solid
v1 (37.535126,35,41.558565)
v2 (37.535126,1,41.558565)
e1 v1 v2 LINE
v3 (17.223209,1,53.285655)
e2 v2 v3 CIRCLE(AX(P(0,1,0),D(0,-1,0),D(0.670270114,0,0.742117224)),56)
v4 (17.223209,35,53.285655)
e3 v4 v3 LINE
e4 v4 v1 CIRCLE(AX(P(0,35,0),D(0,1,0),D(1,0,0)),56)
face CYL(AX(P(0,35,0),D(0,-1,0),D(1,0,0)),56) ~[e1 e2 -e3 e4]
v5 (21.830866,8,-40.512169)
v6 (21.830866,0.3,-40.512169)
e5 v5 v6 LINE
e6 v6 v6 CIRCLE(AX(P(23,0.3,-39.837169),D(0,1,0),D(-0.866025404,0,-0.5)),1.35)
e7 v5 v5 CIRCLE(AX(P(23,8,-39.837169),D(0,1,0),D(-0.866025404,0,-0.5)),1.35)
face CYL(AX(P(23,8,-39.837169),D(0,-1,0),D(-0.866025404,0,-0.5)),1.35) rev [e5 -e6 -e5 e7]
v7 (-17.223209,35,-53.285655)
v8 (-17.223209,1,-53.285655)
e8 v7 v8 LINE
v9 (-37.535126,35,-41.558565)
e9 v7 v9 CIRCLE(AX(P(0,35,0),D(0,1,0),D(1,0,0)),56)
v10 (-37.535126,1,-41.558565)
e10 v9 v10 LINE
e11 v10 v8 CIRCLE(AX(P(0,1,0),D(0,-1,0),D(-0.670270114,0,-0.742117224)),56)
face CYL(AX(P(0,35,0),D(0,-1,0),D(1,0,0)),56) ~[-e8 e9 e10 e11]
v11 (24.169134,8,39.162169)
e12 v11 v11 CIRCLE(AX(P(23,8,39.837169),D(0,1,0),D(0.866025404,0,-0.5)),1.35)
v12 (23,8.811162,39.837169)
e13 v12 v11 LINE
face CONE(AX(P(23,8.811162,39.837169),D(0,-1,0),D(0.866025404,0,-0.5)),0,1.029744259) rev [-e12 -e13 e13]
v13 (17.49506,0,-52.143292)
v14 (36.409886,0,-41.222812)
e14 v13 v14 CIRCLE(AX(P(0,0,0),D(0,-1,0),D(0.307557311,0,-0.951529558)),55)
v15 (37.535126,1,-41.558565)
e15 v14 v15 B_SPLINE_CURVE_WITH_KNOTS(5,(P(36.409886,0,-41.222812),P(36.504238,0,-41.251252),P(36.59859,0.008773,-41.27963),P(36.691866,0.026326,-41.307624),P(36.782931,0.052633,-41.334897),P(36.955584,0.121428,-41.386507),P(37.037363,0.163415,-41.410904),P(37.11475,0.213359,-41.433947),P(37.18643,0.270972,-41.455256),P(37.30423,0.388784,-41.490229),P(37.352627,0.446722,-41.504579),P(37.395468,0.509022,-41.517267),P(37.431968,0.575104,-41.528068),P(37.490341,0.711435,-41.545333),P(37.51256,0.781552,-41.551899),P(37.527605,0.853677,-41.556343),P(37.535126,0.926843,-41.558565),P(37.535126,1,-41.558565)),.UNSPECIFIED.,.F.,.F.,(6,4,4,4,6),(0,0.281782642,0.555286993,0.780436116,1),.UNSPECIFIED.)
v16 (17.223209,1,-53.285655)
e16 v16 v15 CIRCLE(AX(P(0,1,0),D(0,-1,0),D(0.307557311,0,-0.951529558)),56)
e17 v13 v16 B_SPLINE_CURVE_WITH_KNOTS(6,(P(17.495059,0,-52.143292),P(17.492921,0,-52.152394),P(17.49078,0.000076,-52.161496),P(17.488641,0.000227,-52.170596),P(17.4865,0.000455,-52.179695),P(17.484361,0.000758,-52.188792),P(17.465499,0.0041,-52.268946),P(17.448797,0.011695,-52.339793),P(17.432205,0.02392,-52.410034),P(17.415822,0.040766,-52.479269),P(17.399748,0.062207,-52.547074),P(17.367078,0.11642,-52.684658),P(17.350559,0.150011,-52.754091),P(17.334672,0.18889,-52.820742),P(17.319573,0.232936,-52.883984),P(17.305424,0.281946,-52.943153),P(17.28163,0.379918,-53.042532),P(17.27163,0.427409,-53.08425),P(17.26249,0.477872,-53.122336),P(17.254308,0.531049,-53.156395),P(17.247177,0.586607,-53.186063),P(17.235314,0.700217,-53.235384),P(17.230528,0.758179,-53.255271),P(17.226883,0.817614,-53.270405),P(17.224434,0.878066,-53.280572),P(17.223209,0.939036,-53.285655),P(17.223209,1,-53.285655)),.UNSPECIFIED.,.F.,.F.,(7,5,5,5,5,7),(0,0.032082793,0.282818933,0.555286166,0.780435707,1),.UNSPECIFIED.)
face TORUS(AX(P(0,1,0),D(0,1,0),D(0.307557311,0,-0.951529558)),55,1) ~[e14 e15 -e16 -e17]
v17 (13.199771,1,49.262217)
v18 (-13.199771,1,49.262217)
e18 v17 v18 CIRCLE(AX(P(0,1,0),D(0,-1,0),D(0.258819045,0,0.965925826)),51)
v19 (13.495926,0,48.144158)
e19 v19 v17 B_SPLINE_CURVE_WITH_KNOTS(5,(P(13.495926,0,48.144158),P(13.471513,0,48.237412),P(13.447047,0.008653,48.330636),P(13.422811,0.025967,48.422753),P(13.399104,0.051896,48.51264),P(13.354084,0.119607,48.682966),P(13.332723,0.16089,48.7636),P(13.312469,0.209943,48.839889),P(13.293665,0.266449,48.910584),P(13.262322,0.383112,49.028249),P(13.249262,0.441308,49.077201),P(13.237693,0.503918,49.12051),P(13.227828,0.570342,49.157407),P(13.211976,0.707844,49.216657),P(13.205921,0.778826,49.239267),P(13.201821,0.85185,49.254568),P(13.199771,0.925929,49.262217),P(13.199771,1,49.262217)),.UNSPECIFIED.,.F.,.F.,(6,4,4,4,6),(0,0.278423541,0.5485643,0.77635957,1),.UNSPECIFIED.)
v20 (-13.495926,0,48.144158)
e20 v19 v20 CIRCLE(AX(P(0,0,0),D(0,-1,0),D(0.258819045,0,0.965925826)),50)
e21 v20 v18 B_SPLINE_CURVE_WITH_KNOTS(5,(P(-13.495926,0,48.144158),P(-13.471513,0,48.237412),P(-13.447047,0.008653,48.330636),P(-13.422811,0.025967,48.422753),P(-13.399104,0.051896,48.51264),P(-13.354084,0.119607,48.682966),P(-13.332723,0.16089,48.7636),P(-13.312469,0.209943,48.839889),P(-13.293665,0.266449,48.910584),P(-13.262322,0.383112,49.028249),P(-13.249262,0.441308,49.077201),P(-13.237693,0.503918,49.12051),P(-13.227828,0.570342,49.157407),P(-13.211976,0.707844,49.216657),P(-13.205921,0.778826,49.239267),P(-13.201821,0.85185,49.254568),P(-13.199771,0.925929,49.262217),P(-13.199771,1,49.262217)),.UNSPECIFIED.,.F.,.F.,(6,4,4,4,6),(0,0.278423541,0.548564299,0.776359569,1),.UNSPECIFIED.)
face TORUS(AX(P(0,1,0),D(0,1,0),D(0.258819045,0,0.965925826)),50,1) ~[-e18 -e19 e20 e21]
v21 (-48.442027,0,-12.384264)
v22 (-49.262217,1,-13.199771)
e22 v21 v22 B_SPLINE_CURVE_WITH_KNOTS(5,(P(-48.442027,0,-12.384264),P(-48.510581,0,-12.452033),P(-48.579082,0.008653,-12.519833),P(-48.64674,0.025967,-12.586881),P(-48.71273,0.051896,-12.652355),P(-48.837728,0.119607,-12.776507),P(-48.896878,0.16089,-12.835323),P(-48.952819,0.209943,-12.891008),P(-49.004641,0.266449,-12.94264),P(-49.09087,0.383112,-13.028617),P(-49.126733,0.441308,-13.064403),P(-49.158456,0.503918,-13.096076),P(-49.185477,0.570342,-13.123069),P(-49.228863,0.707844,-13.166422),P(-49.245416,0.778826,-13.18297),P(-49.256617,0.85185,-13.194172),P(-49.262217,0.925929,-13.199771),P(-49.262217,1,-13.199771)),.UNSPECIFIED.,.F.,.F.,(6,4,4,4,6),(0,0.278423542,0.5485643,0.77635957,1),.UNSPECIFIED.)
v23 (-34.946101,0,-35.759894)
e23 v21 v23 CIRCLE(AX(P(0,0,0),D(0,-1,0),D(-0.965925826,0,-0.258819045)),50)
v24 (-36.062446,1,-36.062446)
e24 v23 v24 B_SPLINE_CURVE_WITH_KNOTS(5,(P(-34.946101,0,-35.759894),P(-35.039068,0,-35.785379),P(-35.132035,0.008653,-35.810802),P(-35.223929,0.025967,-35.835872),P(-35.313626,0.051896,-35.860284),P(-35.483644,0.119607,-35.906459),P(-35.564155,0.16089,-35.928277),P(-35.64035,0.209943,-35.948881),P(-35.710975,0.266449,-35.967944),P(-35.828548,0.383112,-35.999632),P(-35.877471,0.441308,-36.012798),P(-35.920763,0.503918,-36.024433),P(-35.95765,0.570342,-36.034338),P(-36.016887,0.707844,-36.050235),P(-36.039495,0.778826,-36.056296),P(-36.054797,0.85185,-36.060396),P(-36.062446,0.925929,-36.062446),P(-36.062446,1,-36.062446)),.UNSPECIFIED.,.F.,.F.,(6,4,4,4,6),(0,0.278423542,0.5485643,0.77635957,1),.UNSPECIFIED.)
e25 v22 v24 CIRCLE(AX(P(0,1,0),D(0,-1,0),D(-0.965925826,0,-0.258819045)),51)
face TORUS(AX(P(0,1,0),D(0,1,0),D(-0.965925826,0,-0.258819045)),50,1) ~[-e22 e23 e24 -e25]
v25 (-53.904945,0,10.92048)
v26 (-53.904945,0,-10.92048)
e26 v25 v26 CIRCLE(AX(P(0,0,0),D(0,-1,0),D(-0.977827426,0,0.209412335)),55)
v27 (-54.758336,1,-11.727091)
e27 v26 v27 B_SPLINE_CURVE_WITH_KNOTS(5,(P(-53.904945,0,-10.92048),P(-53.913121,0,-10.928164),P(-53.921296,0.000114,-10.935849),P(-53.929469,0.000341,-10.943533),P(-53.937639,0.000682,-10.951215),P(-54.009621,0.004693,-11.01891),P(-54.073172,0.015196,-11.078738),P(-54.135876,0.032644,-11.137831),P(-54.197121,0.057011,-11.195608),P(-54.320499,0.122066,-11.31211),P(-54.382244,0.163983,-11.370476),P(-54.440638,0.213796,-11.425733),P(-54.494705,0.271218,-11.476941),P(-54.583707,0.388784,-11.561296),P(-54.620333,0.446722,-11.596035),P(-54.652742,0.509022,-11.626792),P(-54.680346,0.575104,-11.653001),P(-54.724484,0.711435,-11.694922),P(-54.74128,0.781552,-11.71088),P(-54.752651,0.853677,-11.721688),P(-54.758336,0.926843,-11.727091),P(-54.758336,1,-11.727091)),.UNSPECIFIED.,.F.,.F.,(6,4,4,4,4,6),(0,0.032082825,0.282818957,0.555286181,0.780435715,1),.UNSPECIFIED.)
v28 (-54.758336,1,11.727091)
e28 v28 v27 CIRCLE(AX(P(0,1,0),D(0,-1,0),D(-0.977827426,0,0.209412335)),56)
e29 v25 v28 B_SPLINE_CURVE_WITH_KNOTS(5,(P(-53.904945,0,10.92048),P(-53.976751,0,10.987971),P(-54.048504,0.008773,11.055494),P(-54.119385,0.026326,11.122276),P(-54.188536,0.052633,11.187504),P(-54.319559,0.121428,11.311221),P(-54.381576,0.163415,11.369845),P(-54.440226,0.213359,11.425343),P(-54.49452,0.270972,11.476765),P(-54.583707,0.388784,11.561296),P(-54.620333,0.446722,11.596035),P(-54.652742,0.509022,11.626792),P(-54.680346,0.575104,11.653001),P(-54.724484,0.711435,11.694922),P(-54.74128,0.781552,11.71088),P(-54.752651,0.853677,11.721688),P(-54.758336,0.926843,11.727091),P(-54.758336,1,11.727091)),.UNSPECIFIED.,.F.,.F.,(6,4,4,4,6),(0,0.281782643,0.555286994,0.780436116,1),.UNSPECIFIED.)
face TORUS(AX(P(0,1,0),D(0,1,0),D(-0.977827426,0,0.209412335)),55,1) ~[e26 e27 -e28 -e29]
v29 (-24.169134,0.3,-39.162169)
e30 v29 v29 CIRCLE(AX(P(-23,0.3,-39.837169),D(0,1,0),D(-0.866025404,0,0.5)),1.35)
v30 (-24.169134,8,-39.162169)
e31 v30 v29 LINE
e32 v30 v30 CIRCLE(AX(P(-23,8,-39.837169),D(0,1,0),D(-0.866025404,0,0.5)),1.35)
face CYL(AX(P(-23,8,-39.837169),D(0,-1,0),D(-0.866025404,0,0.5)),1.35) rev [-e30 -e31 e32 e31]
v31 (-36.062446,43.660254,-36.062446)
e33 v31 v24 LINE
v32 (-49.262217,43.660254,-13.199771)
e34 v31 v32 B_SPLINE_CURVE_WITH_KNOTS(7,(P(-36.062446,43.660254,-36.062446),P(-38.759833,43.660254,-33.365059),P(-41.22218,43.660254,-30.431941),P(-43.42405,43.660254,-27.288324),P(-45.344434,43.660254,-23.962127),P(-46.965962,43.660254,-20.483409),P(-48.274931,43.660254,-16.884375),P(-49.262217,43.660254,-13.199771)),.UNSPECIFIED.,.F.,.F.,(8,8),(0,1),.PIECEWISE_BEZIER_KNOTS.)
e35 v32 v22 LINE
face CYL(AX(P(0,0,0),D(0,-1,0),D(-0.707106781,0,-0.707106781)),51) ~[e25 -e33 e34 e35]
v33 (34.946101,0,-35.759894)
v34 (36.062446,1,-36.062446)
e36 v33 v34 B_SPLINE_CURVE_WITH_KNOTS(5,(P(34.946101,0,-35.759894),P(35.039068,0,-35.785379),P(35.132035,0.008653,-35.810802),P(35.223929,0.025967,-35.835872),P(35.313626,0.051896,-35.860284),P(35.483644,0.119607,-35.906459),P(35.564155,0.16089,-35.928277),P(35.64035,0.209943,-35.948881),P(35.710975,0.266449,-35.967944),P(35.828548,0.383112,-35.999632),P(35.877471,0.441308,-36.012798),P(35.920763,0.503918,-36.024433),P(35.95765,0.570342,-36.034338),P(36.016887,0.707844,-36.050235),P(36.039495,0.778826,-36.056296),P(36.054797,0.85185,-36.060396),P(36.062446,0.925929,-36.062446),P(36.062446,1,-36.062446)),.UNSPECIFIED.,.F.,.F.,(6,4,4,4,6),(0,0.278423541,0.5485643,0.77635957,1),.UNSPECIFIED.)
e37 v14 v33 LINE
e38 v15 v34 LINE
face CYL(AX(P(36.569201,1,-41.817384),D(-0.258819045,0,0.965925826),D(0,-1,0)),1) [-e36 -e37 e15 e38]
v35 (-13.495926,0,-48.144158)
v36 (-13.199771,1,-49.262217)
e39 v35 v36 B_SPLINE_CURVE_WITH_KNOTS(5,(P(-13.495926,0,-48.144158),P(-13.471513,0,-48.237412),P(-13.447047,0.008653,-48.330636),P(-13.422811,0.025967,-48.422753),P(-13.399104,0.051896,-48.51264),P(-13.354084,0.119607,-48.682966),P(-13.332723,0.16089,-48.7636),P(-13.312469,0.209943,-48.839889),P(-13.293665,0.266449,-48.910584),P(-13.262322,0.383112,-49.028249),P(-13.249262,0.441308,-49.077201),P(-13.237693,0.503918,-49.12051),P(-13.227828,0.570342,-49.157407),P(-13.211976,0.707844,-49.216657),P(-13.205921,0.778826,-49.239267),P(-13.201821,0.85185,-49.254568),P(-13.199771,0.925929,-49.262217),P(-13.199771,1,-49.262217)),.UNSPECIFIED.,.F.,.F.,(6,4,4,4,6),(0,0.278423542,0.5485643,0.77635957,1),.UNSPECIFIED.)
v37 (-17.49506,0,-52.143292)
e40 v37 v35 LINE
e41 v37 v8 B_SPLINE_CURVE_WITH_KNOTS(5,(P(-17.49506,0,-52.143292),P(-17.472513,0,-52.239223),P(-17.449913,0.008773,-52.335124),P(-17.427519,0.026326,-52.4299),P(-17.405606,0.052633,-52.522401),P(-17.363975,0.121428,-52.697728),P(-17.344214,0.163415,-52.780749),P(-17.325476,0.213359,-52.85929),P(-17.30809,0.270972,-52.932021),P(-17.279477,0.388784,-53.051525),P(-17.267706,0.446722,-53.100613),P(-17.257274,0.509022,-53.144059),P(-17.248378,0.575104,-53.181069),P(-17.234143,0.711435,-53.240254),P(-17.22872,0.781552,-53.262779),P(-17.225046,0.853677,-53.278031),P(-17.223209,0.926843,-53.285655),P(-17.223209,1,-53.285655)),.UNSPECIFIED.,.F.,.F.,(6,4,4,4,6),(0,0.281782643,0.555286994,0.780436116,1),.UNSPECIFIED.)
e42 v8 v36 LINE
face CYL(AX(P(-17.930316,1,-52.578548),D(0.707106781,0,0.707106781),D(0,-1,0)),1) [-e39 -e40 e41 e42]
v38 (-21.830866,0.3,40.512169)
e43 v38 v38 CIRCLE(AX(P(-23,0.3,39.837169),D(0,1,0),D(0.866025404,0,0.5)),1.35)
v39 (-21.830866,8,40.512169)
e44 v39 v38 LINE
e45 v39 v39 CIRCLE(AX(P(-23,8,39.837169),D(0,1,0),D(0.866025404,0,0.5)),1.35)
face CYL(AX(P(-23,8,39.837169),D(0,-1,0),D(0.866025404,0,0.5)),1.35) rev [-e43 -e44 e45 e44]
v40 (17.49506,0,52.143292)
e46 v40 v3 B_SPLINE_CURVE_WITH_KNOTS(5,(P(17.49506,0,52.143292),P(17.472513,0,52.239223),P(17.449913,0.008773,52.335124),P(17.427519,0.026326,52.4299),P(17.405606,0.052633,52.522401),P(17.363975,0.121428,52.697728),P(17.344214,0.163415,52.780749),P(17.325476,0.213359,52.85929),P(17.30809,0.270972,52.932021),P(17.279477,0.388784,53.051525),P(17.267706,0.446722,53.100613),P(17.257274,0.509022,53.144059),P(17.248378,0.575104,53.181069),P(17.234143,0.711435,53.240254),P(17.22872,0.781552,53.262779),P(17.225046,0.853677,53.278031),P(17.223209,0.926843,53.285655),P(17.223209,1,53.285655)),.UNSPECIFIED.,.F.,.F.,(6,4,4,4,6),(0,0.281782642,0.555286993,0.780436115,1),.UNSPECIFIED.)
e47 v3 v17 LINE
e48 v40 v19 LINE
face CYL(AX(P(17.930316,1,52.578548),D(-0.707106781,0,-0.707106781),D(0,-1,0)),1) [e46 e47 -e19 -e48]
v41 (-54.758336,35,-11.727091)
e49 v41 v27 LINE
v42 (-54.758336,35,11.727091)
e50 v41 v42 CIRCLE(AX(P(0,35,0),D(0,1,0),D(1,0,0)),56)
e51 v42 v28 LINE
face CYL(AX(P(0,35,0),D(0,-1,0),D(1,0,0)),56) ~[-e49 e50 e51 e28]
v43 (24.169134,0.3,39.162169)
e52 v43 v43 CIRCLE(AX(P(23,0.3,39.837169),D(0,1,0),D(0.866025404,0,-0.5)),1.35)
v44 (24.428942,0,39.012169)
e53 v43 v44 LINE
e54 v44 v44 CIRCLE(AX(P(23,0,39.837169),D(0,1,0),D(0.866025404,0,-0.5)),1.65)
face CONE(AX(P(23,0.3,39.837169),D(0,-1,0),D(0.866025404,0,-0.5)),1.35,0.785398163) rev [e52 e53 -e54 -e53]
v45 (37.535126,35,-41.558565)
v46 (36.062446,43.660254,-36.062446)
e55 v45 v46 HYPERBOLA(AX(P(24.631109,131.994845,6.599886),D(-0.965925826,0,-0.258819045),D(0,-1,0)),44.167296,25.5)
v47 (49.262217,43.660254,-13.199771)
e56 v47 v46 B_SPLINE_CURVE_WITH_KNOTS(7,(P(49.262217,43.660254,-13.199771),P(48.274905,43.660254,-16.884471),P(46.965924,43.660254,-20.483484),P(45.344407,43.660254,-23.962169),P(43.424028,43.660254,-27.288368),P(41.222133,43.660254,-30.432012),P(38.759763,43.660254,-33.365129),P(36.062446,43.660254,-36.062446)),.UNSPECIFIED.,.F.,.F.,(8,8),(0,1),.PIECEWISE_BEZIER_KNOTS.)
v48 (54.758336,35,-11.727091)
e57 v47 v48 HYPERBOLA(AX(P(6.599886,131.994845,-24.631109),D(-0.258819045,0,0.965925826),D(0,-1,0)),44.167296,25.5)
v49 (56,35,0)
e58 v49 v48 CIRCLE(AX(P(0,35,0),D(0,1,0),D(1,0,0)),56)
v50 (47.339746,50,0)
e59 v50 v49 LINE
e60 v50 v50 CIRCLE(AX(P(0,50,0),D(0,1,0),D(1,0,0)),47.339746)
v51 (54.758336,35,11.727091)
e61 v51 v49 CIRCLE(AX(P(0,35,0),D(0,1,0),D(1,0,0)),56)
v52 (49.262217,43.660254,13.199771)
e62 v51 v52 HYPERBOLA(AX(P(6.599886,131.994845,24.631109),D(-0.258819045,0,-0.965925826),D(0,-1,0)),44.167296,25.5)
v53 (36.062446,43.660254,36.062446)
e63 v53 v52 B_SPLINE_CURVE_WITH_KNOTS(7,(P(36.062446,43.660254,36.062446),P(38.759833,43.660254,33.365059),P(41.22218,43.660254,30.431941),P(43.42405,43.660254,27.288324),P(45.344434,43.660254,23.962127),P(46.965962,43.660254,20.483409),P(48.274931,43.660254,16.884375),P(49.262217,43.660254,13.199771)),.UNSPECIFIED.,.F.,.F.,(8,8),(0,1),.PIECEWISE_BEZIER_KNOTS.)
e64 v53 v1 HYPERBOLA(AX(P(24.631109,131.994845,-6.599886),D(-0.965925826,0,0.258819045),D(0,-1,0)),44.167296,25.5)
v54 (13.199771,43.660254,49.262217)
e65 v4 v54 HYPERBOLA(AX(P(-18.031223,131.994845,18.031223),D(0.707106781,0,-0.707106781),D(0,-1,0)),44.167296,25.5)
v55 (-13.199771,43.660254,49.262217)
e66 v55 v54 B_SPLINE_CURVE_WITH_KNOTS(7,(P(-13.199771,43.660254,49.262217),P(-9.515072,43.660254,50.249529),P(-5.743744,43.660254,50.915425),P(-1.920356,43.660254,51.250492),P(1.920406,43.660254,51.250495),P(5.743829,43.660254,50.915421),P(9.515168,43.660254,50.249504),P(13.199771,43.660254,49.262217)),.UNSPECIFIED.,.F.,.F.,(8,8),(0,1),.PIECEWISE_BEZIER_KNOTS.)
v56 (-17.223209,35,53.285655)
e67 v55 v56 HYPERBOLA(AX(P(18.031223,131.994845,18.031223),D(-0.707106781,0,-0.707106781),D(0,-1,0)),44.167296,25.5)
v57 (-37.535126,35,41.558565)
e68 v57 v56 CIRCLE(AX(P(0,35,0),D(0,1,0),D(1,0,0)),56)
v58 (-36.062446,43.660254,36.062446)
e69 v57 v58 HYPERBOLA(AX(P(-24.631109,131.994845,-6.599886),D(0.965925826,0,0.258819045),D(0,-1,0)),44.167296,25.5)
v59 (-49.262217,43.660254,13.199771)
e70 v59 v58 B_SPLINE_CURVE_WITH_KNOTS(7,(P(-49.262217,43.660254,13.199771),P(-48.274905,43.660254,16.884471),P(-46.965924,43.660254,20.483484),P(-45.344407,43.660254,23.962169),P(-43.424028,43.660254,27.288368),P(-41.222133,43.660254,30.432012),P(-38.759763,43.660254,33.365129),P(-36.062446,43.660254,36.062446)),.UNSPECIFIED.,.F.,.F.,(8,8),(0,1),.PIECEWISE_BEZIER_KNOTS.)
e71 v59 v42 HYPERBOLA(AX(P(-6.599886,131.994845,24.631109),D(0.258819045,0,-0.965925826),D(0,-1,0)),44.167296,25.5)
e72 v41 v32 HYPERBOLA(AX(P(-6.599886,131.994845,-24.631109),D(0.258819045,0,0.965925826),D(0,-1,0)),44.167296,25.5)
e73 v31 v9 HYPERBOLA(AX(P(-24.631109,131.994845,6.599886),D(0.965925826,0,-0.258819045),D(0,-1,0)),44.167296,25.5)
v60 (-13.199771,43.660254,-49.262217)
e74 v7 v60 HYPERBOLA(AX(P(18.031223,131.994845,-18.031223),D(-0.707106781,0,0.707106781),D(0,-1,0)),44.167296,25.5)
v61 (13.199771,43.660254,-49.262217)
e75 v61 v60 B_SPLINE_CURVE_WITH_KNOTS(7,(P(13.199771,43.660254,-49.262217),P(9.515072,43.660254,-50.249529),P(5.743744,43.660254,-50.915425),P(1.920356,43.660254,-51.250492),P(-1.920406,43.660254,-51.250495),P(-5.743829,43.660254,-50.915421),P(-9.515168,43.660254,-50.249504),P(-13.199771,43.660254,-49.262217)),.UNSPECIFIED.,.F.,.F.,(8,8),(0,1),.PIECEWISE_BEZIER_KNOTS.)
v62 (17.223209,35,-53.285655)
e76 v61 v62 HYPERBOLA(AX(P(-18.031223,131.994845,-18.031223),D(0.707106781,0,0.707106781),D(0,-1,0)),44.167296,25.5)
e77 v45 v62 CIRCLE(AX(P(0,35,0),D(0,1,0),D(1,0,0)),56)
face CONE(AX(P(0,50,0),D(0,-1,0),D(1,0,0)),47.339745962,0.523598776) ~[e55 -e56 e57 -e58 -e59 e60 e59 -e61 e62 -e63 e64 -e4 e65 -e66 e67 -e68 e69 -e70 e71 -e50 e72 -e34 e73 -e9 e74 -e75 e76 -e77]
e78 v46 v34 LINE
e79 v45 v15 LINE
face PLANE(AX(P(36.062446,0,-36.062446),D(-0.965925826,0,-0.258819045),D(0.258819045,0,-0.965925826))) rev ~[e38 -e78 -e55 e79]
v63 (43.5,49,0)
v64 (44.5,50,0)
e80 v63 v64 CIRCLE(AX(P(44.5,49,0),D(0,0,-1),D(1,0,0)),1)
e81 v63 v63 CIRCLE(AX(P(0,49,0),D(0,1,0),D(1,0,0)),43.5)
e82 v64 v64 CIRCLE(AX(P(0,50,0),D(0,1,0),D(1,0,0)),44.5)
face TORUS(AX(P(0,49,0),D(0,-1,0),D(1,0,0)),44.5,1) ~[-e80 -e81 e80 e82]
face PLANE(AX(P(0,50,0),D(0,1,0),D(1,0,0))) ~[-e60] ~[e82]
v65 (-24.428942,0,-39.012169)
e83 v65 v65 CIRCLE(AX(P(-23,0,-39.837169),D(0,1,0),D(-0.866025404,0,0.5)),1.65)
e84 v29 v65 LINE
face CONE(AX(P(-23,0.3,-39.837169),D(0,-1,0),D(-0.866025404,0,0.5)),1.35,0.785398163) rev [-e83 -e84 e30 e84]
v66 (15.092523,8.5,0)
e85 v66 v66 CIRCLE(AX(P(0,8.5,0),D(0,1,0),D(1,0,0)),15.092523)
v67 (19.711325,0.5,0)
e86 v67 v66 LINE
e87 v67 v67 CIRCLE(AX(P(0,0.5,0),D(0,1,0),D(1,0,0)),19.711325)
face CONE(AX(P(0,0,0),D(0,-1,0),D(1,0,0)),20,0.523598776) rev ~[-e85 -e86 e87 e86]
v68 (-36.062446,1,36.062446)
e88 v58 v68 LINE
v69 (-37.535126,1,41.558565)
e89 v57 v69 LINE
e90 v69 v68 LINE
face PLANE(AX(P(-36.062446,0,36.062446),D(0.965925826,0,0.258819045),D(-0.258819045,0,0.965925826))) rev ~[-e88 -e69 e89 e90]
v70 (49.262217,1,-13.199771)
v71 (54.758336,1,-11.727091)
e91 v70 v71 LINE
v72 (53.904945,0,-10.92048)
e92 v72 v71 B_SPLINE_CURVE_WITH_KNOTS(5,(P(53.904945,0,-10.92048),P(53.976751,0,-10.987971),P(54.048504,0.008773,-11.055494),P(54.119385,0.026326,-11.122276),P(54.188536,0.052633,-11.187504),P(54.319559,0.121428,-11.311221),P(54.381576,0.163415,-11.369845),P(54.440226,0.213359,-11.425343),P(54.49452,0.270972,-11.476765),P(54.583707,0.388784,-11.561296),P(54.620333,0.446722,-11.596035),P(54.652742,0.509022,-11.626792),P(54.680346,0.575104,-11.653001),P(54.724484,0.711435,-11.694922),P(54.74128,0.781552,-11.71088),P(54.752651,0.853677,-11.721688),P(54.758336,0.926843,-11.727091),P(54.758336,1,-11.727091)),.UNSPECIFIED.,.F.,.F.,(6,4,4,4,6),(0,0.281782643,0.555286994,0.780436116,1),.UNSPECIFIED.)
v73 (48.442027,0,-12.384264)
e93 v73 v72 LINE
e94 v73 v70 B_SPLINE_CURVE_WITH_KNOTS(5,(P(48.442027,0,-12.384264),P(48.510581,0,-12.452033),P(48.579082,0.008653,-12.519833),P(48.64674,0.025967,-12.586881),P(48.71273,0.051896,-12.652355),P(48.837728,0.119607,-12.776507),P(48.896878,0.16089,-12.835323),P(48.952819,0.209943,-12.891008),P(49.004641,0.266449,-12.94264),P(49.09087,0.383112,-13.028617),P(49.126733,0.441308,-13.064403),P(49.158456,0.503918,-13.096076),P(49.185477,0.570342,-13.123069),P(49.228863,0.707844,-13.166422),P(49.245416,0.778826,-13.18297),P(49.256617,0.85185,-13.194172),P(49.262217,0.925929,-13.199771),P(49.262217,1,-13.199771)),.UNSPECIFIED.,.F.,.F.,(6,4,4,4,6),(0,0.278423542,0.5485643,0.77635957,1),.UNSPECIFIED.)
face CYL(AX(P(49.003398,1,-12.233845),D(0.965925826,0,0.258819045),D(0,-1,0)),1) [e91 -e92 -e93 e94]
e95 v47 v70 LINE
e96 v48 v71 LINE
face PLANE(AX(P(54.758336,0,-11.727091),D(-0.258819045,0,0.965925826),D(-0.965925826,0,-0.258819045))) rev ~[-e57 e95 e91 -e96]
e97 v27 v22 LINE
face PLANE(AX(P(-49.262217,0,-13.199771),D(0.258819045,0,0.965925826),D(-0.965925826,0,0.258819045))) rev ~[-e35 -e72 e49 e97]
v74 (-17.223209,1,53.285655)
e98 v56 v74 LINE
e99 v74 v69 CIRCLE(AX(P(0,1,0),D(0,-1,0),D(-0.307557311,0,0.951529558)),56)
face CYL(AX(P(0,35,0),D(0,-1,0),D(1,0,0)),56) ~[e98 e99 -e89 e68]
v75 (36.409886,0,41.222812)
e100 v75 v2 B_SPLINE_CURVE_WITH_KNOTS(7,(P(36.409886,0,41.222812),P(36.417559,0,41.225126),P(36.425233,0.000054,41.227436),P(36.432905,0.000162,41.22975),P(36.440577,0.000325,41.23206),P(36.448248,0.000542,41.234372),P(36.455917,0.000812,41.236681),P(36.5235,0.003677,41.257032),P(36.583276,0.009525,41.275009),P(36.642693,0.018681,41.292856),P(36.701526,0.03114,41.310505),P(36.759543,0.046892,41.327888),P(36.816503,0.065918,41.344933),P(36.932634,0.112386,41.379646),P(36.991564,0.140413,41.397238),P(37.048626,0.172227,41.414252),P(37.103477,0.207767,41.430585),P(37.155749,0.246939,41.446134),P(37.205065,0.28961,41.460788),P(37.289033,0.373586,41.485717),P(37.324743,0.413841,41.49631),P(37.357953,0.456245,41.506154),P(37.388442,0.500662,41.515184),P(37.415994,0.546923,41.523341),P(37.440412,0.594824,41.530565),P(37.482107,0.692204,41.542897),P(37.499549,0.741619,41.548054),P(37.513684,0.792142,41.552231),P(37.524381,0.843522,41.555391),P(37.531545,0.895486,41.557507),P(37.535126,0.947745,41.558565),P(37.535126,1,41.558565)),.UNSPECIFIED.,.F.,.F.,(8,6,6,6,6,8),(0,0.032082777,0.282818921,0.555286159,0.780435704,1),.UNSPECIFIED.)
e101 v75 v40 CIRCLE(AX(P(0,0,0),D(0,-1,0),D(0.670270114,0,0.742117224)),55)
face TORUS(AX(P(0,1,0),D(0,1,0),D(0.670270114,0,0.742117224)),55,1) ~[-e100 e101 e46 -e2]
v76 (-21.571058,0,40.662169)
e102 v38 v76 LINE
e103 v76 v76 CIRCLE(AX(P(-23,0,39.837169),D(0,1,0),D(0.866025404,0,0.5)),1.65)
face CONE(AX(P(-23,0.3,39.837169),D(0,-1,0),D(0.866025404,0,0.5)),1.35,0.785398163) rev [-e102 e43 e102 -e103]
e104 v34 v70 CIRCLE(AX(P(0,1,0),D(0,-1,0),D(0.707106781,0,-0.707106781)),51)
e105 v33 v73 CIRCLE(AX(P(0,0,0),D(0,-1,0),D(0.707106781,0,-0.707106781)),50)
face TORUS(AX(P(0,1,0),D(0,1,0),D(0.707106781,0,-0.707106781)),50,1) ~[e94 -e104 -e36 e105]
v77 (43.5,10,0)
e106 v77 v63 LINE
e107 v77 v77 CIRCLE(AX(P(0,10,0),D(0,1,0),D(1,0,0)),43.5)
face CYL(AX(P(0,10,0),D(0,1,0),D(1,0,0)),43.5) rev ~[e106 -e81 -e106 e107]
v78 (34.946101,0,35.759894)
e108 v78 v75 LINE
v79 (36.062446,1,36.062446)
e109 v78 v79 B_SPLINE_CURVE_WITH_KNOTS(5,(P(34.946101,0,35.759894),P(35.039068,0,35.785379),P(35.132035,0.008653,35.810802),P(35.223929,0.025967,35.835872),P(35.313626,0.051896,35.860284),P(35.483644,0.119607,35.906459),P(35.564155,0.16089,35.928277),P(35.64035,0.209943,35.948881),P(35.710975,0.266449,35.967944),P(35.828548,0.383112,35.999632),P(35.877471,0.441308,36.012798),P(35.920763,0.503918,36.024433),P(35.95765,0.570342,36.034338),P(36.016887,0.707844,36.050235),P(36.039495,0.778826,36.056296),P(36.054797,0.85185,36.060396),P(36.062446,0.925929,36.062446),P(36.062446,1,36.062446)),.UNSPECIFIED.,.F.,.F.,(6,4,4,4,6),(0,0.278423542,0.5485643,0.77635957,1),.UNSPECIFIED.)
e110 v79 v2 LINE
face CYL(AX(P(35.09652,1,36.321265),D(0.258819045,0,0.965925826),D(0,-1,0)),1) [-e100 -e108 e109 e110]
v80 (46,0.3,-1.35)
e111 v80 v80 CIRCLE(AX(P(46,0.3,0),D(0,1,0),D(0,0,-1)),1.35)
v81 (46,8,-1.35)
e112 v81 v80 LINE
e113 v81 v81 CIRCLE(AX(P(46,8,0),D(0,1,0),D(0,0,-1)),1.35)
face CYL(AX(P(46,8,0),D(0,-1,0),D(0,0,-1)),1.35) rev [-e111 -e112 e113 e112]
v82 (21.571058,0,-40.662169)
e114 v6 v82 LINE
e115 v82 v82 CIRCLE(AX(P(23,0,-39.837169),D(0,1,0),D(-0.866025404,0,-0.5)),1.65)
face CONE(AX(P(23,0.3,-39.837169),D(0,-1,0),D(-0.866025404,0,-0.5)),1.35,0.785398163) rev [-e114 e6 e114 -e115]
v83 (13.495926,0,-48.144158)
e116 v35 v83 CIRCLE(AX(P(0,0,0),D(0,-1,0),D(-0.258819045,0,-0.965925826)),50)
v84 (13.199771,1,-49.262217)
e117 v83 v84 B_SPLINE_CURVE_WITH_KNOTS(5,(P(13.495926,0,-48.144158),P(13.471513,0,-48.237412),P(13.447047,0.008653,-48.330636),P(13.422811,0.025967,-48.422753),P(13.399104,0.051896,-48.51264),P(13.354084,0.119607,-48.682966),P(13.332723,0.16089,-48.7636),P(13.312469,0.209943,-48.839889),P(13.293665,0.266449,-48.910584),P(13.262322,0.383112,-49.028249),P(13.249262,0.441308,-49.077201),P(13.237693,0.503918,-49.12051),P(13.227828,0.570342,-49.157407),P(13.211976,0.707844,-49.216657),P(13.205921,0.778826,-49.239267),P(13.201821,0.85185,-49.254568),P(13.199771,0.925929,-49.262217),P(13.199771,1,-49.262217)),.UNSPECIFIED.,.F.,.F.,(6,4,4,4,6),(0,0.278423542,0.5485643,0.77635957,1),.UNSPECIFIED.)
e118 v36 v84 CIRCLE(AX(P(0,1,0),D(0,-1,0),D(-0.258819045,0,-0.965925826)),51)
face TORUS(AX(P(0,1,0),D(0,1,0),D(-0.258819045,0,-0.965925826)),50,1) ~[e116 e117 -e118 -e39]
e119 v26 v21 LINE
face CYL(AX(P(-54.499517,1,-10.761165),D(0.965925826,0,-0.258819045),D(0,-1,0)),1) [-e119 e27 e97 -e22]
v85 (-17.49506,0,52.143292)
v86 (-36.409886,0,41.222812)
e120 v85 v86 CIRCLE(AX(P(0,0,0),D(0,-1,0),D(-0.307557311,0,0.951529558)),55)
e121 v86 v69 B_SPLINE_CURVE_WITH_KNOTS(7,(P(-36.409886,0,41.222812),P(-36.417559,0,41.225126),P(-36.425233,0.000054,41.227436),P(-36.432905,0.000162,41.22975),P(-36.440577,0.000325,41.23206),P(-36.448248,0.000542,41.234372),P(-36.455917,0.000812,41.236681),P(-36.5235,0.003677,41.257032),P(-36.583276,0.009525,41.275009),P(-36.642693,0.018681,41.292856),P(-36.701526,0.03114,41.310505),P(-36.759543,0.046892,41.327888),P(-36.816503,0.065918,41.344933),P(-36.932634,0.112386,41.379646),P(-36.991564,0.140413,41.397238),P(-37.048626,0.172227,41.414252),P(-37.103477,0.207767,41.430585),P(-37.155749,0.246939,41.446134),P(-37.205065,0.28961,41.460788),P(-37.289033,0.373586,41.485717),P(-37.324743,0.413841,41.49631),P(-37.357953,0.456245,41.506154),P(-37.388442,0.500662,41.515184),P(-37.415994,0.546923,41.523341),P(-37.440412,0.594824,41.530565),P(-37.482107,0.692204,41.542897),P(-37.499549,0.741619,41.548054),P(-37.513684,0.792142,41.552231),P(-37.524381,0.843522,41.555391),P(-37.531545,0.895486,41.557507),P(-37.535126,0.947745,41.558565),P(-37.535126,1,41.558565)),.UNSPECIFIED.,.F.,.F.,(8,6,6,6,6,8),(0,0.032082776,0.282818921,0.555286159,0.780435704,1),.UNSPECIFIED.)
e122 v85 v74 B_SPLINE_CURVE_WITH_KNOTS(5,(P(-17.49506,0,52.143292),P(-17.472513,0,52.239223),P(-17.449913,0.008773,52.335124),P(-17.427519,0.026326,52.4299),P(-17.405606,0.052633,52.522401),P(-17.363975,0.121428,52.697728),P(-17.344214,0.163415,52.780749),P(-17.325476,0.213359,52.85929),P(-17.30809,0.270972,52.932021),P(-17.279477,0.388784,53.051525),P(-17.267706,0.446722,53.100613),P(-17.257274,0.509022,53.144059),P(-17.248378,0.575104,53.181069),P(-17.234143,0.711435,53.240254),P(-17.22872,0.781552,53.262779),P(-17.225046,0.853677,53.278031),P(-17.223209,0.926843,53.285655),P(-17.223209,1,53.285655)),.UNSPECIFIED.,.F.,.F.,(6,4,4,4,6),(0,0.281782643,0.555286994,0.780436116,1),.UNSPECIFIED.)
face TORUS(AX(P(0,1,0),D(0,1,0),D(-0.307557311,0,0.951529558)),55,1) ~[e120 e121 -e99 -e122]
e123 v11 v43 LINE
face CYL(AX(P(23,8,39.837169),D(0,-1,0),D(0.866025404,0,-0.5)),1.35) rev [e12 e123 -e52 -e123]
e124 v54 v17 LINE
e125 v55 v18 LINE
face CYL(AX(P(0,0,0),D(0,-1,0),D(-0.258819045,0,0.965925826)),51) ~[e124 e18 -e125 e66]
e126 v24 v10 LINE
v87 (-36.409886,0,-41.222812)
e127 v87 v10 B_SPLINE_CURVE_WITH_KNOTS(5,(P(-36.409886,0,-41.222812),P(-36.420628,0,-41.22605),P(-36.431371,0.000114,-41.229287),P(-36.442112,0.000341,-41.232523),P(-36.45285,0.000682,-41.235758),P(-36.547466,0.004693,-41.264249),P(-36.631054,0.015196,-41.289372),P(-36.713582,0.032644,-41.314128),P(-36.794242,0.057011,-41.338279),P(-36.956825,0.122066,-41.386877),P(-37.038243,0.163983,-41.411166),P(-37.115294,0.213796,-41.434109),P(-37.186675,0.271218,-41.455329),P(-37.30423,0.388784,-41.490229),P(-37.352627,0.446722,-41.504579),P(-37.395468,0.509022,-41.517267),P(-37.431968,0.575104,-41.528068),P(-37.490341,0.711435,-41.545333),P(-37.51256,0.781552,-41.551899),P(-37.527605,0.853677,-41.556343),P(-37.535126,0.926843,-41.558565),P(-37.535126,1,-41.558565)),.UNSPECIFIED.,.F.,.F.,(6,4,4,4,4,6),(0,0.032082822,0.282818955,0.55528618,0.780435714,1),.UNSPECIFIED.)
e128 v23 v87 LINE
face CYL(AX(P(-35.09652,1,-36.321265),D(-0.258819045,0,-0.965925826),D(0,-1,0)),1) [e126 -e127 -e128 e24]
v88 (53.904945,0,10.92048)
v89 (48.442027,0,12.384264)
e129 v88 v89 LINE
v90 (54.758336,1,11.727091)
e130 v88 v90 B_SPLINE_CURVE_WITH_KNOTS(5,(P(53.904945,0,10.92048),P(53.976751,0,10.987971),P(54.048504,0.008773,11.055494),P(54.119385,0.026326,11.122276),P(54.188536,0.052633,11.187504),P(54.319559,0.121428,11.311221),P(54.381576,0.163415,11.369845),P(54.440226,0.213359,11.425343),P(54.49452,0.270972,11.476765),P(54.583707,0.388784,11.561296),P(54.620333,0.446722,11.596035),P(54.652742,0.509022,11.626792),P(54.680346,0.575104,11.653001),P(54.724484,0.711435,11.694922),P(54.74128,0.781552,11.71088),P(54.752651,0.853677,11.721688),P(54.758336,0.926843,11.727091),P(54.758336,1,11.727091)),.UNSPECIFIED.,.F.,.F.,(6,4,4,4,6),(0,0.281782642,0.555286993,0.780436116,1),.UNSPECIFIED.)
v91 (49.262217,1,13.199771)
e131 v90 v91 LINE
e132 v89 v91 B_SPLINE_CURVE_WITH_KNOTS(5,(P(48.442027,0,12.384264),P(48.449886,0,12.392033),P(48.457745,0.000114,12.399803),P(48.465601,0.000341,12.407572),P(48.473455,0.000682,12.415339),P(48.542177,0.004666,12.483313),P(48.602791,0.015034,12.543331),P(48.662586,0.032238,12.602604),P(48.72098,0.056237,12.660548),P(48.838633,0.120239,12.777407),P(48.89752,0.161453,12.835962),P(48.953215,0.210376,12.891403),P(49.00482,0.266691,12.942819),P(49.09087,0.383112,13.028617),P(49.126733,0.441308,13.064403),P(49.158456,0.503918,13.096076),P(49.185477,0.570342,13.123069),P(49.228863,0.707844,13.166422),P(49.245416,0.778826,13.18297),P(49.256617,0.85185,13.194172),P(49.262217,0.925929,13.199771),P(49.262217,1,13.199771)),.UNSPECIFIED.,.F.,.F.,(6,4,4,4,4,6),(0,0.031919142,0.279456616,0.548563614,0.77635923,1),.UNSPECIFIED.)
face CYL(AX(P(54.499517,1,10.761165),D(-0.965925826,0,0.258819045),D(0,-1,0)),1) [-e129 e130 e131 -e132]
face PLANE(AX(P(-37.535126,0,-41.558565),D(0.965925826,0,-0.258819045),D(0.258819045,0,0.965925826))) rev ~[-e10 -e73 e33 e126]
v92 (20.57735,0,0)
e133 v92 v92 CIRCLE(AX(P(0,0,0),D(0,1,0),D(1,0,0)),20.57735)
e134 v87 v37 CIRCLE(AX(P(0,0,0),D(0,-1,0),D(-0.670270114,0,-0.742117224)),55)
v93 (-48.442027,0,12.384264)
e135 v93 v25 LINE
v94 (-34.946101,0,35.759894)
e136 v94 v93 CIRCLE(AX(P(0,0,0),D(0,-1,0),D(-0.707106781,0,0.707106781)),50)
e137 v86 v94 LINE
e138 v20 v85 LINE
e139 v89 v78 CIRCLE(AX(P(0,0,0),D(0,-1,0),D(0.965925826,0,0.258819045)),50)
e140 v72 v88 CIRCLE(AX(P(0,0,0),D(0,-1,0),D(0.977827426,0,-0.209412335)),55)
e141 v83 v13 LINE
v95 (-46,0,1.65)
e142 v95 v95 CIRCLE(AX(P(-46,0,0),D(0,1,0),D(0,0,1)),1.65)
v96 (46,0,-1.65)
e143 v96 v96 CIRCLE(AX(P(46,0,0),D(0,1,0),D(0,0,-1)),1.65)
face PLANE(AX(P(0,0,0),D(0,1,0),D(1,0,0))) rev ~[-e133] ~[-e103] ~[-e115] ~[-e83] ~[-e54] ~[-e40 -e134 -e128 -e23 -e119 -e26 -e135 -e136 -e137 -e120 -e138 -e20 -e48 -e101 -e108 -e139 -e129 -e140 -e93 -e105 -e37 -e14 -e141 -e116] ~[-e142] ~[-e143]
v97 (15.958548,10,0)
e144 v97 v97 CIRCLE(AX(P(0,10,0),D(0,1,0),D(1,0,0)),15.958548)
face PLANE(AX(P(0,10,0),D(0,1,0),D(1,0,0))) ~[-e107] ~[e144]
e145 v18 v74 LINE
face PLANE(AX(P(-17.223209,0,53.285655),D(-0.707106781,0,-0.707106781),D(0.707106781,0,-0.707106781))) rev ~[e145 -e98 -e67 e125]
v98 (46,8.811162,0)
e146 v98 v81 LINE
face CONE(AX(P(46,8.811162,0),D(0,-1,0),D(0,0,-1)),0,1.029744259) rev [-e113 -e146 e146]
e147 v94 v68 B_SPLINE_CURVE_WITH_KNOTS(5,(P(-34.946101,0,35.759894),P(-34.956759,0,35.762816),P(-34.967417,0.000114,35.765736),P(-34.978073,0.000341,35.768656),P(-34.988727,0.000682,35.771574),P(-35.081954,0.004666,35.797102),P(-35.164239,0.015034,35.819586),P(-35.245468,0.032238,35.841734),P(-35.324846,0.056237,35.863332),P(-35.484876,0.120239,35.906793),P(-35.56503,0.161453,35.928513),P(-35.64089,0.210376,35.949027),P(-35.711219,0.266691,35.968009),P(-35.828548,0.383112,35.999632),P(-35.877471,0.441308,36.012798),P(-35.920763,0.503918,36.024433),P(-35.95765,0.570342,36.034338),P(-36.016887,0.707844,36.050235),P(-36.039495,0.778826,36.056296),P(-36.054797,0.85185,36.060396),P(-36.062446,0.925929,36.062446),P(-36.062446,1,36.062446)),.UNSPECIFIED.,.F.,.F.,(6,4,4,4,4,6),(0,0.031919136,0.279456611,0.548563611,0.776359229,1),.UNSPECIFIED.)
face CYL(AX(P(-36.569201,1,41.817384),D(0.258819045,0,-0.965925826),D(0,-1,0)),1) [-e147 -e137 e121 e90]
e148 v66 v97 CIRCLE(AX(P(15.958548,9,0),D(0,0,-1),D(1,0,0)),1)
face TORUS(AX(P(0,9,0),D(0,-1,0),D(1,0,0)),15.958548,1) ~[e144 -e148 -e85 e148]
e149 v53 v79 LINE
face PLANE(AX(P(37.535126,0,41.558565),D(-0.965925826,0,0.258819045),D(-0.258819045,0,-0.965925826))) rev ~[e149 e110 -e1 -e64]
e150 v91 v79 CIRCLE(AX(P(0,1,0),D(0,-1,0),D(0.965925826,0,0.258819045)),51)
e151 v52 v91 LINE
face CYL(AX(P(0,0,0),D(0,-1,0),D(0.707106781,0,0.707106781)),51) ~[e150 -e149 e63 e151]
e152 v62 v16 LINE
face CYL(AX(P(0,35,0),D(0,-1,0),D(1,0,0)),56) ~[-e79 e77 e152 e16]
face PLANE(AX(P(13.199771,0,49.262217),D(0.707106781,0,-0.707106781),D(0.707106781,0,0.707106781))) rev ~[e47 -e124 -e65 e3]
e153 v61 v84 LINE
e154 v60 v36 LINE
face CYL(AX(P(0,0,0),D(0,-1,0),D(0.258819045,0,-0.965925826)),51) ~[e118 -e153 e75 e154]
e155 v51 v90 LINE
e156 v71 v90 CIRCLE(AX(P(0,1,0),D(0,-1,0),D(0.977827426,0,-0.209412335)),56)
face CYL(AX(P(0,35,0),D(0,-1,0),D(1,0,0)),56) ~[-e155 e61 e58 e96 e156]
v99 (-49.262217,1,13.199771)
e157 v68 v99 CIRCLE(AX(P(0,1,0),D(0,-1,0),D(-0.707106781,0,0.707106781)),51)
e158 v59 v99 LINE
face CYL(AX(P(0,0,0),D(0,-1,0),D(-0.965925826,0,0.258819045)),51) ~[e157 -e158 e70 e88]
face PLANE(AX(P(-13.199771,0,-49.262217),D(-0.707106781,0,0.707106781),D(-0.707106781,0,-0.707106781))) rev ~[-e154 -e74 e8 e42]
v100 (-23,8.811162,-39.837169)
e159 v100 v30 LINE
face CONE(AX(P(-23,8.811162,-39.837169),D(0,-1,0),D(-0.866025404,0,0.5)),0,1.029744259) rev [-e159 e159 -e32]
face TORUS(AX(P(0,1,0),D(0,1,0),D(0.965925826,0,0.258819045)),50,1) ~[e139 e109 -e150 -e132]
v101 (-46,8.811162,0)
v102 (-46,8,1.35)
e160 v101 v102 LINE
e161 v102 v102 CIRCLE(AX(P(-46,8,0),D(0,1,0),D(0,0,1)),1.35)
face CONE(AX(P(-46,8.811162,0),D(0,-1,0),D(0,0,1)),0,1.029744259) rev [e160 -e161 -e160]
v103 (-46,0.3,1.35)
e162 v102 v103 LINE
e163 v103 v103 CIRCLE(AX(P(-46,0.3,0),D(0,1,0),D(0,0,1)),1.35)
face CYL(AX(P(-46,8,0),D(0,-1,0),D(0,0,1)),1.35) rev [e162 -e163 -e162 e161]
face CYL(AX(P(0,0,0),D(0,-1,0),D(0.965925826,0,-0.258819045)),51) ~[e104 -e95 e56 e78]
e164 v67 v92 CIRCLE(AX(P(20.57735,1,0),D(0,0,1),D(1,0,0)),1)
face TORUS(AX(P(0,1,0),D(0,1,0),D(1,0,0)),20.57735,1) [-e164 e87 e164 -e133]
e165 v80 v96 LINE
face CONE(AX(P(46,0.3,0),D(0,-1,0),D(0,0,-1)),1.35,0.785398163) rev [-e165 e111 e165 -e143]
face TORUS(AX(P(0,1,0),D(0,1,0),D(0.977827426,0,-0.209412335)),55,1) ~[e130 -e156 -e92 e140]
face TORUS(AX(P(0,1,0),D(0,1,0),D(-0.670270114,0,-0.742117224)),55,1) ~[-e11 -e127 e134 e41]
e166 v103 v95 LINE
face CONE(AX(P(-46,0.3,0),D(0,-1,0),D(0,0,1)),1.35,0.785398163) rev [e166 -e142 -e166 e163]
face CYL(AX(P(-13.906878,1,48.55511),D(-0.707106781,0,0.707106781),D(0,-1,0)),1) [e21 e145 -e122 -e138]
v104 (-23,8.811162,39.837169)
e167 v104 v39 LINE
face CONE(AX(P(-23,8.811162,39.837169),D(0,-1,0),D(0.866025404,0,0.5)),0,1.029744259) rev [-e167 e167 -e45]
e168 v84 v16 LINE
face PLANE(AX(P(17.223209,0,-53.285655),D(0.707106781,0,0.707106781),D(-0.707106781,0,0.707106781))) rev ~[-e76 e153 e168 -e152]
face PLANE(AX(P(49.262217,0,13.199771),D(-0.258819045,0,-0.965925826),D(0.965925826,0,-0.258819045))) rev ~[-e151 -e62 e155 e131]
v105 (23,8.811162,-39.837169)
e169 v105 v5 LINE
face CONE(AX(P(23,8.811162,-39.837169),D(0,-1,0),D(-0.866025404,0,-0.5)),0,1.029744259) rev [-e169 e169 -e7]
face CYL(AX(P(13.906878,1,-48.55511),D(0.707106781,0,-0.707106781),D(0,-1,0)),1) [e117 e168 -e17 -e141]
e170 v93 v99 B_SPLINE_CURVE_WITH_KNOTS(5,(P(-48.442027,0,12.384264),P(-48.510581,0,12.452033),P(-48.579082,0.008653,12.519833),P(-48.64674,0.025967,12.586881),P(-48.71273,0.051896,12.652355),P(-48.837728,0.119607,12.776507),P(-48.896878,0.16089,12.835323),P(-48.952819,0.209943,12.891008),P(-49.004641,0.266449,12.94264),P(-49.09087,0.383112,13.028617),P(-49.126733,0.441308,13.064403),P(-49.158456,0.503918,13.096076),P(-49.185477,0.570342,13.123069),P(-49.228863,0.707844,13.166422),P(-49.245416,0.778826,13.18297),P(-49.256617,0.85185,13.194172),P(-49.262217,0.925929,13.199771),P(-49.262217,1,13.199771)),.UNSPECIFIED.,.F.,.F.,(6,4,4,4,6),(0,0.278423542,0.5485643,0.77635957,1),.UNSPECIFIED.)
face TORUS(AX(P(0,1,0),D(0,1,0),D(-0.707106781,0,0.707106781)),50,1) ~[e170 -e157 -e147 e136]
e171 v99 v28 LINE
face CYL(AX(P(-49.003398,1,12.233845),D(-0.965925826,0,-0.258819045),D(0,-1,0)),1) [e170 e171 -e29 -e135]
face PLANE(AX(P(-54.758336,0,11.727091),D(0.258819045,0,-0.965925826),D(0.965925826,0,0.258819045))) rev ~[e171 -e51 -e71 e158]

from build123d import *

# Parameters (mm, degrees)
SIDE_CUTOUT_DEPTH         = 94.658955792
SIDE_CUTOUT_PATTERN_COUNT = 6
OVERALL_FILLETS_R         = 1
SCREW_HOLE_PATTERN_COUNT  = 6


with BuildPart() as part:
    # Sketch1 → body (revolve)
    with BuildSketch(Plane.XY):
        Polygon((20, 0), (14.226497308, 10), (43.5, 10), (43.5, 50), (47.339745962, 50), (56, 35), (56, 0), align=None)
    revolve(axis=Axis((0, 0, 0), (0, 1, 0)))

    # Sketch5 → side_cutout (cut, symmetric)
    with BuildSketch(Plane.XZ):
        with BuildLine():
            Line((110.083964015, 312.314512522), (37.535126405, 41.55856453))
            Line((37.535126405, 41.55856453), (36.062445841, 36.062445841))
            ThreePointArc((36.062445841, 36.062445841), (44.167295593, 25.5), (49.262217141, 13.1997713))
            Line((49.262217141, 13.1997713), (54.75833583, 11.727090736))
            Line((54.75833583, 11.727090736), (325.514283822, -60.821746875))
            Line((325.514283822, -60.821746875), (811.02056765, 219.485436786))
            Line((811.02056765, 219.485436786), (595.590247843, 592.621696183))
            Line((595.590247843, 592.621696183), (110.083964015, 312.314512522))
        make_face()
    side_cutout = extrude(amount=SIDE_CUTOUT_DEPTH, both=True, mode=Mode.SUBTRACT)

    # side_cutout_pattern: side_cutout ×6 about axis
    side_cutout_pattern_axis = Axis((0, 0, 0), (0, -1, 0))
    for i in range(1, SIDE_CUTOUT_PATTERN_COUNT):
        add(side_cutout.rotate(side_cutout_pattern_axis, i * 360 / SIDE_CUTOUT_PATTERN_COUNT), mode=Mode.SUBTRACT)

    # overall_fillets
    overall_fillets_edges = [part.edges().sort_by_distance(p)[0] for p in [
        (56, 0, 0),
        (36.798786123, 0, -38.810505185),
        (44.167295593, 0, -25.5),
        (52.010276485, 0, -12.463431018),
        (28, 0, 48.497422612),
        (52.010276485, 0, 12.463431018),
        (44.167295593, 0, 25.5),
        (36.798786123, 0, 38.810505185),
        (-28, 0, 48.497422612),
        (15.211490363, 0, 51.273936203),
        (0, 0, 51),
        (-15.211490363, 0, 51.273936203),
        (-56, 0, 0),
        (-36.798786123, 0, 38.810505185),
        (-44.167295593, 0, 25.5),
        (-52.010276485, 0, 12.463431018),
        (-28, 0, -48.497422612),
        (-43.5, 50, 0),
        (-52.010276485, 0, -12.463431018),
        (-44.167295593, 0, -25.5),
        (-36.798786123, 0, -38.810505185),
        (-14.226497308, 10, 0),
        (28, 0, -48.497422612),
        (-20, 0, 0),
        (-15.211490363, 0, -51.273936203),
        (0, 0, -51),
        (15.211490363, 0, -51.273936203),
    ]]
    fillet(overall_fillets_edges, radius=OVERALL_FILLETS_R)

    # Sketch4 → screw_holes (revolve, cut)
    with BuildSketch(Plane(origin=(46, 0, 0), x_dir=(0, 0, -1), z_dir=(1, 0, 0))):
        Polygon((0, 0), (0, 8.811161836), (1.35, 8), (1.35, 0.3), (1.65, 0), align=None)
    screw_holes = revolve(axis=Axis((46, -6.35, 0), (0, 1, 0)), mode=Mode.SUBTRACT)

    # screw_hole_pattern: screw_holes ×6 about axis
    screw_hole_pattern_axis = Axis((0, 0, 0), (0, 1, 0))
    for i in range(1, SCREW_HOLE_PATTERN_COUNT):
        add(screw_holes.rotate(screw_hole_pattern_axis, i * 360 / SCREW_HOLE_PATTERN_COUNT), mode=Mode.SUBTRACT)


solid = part.part
